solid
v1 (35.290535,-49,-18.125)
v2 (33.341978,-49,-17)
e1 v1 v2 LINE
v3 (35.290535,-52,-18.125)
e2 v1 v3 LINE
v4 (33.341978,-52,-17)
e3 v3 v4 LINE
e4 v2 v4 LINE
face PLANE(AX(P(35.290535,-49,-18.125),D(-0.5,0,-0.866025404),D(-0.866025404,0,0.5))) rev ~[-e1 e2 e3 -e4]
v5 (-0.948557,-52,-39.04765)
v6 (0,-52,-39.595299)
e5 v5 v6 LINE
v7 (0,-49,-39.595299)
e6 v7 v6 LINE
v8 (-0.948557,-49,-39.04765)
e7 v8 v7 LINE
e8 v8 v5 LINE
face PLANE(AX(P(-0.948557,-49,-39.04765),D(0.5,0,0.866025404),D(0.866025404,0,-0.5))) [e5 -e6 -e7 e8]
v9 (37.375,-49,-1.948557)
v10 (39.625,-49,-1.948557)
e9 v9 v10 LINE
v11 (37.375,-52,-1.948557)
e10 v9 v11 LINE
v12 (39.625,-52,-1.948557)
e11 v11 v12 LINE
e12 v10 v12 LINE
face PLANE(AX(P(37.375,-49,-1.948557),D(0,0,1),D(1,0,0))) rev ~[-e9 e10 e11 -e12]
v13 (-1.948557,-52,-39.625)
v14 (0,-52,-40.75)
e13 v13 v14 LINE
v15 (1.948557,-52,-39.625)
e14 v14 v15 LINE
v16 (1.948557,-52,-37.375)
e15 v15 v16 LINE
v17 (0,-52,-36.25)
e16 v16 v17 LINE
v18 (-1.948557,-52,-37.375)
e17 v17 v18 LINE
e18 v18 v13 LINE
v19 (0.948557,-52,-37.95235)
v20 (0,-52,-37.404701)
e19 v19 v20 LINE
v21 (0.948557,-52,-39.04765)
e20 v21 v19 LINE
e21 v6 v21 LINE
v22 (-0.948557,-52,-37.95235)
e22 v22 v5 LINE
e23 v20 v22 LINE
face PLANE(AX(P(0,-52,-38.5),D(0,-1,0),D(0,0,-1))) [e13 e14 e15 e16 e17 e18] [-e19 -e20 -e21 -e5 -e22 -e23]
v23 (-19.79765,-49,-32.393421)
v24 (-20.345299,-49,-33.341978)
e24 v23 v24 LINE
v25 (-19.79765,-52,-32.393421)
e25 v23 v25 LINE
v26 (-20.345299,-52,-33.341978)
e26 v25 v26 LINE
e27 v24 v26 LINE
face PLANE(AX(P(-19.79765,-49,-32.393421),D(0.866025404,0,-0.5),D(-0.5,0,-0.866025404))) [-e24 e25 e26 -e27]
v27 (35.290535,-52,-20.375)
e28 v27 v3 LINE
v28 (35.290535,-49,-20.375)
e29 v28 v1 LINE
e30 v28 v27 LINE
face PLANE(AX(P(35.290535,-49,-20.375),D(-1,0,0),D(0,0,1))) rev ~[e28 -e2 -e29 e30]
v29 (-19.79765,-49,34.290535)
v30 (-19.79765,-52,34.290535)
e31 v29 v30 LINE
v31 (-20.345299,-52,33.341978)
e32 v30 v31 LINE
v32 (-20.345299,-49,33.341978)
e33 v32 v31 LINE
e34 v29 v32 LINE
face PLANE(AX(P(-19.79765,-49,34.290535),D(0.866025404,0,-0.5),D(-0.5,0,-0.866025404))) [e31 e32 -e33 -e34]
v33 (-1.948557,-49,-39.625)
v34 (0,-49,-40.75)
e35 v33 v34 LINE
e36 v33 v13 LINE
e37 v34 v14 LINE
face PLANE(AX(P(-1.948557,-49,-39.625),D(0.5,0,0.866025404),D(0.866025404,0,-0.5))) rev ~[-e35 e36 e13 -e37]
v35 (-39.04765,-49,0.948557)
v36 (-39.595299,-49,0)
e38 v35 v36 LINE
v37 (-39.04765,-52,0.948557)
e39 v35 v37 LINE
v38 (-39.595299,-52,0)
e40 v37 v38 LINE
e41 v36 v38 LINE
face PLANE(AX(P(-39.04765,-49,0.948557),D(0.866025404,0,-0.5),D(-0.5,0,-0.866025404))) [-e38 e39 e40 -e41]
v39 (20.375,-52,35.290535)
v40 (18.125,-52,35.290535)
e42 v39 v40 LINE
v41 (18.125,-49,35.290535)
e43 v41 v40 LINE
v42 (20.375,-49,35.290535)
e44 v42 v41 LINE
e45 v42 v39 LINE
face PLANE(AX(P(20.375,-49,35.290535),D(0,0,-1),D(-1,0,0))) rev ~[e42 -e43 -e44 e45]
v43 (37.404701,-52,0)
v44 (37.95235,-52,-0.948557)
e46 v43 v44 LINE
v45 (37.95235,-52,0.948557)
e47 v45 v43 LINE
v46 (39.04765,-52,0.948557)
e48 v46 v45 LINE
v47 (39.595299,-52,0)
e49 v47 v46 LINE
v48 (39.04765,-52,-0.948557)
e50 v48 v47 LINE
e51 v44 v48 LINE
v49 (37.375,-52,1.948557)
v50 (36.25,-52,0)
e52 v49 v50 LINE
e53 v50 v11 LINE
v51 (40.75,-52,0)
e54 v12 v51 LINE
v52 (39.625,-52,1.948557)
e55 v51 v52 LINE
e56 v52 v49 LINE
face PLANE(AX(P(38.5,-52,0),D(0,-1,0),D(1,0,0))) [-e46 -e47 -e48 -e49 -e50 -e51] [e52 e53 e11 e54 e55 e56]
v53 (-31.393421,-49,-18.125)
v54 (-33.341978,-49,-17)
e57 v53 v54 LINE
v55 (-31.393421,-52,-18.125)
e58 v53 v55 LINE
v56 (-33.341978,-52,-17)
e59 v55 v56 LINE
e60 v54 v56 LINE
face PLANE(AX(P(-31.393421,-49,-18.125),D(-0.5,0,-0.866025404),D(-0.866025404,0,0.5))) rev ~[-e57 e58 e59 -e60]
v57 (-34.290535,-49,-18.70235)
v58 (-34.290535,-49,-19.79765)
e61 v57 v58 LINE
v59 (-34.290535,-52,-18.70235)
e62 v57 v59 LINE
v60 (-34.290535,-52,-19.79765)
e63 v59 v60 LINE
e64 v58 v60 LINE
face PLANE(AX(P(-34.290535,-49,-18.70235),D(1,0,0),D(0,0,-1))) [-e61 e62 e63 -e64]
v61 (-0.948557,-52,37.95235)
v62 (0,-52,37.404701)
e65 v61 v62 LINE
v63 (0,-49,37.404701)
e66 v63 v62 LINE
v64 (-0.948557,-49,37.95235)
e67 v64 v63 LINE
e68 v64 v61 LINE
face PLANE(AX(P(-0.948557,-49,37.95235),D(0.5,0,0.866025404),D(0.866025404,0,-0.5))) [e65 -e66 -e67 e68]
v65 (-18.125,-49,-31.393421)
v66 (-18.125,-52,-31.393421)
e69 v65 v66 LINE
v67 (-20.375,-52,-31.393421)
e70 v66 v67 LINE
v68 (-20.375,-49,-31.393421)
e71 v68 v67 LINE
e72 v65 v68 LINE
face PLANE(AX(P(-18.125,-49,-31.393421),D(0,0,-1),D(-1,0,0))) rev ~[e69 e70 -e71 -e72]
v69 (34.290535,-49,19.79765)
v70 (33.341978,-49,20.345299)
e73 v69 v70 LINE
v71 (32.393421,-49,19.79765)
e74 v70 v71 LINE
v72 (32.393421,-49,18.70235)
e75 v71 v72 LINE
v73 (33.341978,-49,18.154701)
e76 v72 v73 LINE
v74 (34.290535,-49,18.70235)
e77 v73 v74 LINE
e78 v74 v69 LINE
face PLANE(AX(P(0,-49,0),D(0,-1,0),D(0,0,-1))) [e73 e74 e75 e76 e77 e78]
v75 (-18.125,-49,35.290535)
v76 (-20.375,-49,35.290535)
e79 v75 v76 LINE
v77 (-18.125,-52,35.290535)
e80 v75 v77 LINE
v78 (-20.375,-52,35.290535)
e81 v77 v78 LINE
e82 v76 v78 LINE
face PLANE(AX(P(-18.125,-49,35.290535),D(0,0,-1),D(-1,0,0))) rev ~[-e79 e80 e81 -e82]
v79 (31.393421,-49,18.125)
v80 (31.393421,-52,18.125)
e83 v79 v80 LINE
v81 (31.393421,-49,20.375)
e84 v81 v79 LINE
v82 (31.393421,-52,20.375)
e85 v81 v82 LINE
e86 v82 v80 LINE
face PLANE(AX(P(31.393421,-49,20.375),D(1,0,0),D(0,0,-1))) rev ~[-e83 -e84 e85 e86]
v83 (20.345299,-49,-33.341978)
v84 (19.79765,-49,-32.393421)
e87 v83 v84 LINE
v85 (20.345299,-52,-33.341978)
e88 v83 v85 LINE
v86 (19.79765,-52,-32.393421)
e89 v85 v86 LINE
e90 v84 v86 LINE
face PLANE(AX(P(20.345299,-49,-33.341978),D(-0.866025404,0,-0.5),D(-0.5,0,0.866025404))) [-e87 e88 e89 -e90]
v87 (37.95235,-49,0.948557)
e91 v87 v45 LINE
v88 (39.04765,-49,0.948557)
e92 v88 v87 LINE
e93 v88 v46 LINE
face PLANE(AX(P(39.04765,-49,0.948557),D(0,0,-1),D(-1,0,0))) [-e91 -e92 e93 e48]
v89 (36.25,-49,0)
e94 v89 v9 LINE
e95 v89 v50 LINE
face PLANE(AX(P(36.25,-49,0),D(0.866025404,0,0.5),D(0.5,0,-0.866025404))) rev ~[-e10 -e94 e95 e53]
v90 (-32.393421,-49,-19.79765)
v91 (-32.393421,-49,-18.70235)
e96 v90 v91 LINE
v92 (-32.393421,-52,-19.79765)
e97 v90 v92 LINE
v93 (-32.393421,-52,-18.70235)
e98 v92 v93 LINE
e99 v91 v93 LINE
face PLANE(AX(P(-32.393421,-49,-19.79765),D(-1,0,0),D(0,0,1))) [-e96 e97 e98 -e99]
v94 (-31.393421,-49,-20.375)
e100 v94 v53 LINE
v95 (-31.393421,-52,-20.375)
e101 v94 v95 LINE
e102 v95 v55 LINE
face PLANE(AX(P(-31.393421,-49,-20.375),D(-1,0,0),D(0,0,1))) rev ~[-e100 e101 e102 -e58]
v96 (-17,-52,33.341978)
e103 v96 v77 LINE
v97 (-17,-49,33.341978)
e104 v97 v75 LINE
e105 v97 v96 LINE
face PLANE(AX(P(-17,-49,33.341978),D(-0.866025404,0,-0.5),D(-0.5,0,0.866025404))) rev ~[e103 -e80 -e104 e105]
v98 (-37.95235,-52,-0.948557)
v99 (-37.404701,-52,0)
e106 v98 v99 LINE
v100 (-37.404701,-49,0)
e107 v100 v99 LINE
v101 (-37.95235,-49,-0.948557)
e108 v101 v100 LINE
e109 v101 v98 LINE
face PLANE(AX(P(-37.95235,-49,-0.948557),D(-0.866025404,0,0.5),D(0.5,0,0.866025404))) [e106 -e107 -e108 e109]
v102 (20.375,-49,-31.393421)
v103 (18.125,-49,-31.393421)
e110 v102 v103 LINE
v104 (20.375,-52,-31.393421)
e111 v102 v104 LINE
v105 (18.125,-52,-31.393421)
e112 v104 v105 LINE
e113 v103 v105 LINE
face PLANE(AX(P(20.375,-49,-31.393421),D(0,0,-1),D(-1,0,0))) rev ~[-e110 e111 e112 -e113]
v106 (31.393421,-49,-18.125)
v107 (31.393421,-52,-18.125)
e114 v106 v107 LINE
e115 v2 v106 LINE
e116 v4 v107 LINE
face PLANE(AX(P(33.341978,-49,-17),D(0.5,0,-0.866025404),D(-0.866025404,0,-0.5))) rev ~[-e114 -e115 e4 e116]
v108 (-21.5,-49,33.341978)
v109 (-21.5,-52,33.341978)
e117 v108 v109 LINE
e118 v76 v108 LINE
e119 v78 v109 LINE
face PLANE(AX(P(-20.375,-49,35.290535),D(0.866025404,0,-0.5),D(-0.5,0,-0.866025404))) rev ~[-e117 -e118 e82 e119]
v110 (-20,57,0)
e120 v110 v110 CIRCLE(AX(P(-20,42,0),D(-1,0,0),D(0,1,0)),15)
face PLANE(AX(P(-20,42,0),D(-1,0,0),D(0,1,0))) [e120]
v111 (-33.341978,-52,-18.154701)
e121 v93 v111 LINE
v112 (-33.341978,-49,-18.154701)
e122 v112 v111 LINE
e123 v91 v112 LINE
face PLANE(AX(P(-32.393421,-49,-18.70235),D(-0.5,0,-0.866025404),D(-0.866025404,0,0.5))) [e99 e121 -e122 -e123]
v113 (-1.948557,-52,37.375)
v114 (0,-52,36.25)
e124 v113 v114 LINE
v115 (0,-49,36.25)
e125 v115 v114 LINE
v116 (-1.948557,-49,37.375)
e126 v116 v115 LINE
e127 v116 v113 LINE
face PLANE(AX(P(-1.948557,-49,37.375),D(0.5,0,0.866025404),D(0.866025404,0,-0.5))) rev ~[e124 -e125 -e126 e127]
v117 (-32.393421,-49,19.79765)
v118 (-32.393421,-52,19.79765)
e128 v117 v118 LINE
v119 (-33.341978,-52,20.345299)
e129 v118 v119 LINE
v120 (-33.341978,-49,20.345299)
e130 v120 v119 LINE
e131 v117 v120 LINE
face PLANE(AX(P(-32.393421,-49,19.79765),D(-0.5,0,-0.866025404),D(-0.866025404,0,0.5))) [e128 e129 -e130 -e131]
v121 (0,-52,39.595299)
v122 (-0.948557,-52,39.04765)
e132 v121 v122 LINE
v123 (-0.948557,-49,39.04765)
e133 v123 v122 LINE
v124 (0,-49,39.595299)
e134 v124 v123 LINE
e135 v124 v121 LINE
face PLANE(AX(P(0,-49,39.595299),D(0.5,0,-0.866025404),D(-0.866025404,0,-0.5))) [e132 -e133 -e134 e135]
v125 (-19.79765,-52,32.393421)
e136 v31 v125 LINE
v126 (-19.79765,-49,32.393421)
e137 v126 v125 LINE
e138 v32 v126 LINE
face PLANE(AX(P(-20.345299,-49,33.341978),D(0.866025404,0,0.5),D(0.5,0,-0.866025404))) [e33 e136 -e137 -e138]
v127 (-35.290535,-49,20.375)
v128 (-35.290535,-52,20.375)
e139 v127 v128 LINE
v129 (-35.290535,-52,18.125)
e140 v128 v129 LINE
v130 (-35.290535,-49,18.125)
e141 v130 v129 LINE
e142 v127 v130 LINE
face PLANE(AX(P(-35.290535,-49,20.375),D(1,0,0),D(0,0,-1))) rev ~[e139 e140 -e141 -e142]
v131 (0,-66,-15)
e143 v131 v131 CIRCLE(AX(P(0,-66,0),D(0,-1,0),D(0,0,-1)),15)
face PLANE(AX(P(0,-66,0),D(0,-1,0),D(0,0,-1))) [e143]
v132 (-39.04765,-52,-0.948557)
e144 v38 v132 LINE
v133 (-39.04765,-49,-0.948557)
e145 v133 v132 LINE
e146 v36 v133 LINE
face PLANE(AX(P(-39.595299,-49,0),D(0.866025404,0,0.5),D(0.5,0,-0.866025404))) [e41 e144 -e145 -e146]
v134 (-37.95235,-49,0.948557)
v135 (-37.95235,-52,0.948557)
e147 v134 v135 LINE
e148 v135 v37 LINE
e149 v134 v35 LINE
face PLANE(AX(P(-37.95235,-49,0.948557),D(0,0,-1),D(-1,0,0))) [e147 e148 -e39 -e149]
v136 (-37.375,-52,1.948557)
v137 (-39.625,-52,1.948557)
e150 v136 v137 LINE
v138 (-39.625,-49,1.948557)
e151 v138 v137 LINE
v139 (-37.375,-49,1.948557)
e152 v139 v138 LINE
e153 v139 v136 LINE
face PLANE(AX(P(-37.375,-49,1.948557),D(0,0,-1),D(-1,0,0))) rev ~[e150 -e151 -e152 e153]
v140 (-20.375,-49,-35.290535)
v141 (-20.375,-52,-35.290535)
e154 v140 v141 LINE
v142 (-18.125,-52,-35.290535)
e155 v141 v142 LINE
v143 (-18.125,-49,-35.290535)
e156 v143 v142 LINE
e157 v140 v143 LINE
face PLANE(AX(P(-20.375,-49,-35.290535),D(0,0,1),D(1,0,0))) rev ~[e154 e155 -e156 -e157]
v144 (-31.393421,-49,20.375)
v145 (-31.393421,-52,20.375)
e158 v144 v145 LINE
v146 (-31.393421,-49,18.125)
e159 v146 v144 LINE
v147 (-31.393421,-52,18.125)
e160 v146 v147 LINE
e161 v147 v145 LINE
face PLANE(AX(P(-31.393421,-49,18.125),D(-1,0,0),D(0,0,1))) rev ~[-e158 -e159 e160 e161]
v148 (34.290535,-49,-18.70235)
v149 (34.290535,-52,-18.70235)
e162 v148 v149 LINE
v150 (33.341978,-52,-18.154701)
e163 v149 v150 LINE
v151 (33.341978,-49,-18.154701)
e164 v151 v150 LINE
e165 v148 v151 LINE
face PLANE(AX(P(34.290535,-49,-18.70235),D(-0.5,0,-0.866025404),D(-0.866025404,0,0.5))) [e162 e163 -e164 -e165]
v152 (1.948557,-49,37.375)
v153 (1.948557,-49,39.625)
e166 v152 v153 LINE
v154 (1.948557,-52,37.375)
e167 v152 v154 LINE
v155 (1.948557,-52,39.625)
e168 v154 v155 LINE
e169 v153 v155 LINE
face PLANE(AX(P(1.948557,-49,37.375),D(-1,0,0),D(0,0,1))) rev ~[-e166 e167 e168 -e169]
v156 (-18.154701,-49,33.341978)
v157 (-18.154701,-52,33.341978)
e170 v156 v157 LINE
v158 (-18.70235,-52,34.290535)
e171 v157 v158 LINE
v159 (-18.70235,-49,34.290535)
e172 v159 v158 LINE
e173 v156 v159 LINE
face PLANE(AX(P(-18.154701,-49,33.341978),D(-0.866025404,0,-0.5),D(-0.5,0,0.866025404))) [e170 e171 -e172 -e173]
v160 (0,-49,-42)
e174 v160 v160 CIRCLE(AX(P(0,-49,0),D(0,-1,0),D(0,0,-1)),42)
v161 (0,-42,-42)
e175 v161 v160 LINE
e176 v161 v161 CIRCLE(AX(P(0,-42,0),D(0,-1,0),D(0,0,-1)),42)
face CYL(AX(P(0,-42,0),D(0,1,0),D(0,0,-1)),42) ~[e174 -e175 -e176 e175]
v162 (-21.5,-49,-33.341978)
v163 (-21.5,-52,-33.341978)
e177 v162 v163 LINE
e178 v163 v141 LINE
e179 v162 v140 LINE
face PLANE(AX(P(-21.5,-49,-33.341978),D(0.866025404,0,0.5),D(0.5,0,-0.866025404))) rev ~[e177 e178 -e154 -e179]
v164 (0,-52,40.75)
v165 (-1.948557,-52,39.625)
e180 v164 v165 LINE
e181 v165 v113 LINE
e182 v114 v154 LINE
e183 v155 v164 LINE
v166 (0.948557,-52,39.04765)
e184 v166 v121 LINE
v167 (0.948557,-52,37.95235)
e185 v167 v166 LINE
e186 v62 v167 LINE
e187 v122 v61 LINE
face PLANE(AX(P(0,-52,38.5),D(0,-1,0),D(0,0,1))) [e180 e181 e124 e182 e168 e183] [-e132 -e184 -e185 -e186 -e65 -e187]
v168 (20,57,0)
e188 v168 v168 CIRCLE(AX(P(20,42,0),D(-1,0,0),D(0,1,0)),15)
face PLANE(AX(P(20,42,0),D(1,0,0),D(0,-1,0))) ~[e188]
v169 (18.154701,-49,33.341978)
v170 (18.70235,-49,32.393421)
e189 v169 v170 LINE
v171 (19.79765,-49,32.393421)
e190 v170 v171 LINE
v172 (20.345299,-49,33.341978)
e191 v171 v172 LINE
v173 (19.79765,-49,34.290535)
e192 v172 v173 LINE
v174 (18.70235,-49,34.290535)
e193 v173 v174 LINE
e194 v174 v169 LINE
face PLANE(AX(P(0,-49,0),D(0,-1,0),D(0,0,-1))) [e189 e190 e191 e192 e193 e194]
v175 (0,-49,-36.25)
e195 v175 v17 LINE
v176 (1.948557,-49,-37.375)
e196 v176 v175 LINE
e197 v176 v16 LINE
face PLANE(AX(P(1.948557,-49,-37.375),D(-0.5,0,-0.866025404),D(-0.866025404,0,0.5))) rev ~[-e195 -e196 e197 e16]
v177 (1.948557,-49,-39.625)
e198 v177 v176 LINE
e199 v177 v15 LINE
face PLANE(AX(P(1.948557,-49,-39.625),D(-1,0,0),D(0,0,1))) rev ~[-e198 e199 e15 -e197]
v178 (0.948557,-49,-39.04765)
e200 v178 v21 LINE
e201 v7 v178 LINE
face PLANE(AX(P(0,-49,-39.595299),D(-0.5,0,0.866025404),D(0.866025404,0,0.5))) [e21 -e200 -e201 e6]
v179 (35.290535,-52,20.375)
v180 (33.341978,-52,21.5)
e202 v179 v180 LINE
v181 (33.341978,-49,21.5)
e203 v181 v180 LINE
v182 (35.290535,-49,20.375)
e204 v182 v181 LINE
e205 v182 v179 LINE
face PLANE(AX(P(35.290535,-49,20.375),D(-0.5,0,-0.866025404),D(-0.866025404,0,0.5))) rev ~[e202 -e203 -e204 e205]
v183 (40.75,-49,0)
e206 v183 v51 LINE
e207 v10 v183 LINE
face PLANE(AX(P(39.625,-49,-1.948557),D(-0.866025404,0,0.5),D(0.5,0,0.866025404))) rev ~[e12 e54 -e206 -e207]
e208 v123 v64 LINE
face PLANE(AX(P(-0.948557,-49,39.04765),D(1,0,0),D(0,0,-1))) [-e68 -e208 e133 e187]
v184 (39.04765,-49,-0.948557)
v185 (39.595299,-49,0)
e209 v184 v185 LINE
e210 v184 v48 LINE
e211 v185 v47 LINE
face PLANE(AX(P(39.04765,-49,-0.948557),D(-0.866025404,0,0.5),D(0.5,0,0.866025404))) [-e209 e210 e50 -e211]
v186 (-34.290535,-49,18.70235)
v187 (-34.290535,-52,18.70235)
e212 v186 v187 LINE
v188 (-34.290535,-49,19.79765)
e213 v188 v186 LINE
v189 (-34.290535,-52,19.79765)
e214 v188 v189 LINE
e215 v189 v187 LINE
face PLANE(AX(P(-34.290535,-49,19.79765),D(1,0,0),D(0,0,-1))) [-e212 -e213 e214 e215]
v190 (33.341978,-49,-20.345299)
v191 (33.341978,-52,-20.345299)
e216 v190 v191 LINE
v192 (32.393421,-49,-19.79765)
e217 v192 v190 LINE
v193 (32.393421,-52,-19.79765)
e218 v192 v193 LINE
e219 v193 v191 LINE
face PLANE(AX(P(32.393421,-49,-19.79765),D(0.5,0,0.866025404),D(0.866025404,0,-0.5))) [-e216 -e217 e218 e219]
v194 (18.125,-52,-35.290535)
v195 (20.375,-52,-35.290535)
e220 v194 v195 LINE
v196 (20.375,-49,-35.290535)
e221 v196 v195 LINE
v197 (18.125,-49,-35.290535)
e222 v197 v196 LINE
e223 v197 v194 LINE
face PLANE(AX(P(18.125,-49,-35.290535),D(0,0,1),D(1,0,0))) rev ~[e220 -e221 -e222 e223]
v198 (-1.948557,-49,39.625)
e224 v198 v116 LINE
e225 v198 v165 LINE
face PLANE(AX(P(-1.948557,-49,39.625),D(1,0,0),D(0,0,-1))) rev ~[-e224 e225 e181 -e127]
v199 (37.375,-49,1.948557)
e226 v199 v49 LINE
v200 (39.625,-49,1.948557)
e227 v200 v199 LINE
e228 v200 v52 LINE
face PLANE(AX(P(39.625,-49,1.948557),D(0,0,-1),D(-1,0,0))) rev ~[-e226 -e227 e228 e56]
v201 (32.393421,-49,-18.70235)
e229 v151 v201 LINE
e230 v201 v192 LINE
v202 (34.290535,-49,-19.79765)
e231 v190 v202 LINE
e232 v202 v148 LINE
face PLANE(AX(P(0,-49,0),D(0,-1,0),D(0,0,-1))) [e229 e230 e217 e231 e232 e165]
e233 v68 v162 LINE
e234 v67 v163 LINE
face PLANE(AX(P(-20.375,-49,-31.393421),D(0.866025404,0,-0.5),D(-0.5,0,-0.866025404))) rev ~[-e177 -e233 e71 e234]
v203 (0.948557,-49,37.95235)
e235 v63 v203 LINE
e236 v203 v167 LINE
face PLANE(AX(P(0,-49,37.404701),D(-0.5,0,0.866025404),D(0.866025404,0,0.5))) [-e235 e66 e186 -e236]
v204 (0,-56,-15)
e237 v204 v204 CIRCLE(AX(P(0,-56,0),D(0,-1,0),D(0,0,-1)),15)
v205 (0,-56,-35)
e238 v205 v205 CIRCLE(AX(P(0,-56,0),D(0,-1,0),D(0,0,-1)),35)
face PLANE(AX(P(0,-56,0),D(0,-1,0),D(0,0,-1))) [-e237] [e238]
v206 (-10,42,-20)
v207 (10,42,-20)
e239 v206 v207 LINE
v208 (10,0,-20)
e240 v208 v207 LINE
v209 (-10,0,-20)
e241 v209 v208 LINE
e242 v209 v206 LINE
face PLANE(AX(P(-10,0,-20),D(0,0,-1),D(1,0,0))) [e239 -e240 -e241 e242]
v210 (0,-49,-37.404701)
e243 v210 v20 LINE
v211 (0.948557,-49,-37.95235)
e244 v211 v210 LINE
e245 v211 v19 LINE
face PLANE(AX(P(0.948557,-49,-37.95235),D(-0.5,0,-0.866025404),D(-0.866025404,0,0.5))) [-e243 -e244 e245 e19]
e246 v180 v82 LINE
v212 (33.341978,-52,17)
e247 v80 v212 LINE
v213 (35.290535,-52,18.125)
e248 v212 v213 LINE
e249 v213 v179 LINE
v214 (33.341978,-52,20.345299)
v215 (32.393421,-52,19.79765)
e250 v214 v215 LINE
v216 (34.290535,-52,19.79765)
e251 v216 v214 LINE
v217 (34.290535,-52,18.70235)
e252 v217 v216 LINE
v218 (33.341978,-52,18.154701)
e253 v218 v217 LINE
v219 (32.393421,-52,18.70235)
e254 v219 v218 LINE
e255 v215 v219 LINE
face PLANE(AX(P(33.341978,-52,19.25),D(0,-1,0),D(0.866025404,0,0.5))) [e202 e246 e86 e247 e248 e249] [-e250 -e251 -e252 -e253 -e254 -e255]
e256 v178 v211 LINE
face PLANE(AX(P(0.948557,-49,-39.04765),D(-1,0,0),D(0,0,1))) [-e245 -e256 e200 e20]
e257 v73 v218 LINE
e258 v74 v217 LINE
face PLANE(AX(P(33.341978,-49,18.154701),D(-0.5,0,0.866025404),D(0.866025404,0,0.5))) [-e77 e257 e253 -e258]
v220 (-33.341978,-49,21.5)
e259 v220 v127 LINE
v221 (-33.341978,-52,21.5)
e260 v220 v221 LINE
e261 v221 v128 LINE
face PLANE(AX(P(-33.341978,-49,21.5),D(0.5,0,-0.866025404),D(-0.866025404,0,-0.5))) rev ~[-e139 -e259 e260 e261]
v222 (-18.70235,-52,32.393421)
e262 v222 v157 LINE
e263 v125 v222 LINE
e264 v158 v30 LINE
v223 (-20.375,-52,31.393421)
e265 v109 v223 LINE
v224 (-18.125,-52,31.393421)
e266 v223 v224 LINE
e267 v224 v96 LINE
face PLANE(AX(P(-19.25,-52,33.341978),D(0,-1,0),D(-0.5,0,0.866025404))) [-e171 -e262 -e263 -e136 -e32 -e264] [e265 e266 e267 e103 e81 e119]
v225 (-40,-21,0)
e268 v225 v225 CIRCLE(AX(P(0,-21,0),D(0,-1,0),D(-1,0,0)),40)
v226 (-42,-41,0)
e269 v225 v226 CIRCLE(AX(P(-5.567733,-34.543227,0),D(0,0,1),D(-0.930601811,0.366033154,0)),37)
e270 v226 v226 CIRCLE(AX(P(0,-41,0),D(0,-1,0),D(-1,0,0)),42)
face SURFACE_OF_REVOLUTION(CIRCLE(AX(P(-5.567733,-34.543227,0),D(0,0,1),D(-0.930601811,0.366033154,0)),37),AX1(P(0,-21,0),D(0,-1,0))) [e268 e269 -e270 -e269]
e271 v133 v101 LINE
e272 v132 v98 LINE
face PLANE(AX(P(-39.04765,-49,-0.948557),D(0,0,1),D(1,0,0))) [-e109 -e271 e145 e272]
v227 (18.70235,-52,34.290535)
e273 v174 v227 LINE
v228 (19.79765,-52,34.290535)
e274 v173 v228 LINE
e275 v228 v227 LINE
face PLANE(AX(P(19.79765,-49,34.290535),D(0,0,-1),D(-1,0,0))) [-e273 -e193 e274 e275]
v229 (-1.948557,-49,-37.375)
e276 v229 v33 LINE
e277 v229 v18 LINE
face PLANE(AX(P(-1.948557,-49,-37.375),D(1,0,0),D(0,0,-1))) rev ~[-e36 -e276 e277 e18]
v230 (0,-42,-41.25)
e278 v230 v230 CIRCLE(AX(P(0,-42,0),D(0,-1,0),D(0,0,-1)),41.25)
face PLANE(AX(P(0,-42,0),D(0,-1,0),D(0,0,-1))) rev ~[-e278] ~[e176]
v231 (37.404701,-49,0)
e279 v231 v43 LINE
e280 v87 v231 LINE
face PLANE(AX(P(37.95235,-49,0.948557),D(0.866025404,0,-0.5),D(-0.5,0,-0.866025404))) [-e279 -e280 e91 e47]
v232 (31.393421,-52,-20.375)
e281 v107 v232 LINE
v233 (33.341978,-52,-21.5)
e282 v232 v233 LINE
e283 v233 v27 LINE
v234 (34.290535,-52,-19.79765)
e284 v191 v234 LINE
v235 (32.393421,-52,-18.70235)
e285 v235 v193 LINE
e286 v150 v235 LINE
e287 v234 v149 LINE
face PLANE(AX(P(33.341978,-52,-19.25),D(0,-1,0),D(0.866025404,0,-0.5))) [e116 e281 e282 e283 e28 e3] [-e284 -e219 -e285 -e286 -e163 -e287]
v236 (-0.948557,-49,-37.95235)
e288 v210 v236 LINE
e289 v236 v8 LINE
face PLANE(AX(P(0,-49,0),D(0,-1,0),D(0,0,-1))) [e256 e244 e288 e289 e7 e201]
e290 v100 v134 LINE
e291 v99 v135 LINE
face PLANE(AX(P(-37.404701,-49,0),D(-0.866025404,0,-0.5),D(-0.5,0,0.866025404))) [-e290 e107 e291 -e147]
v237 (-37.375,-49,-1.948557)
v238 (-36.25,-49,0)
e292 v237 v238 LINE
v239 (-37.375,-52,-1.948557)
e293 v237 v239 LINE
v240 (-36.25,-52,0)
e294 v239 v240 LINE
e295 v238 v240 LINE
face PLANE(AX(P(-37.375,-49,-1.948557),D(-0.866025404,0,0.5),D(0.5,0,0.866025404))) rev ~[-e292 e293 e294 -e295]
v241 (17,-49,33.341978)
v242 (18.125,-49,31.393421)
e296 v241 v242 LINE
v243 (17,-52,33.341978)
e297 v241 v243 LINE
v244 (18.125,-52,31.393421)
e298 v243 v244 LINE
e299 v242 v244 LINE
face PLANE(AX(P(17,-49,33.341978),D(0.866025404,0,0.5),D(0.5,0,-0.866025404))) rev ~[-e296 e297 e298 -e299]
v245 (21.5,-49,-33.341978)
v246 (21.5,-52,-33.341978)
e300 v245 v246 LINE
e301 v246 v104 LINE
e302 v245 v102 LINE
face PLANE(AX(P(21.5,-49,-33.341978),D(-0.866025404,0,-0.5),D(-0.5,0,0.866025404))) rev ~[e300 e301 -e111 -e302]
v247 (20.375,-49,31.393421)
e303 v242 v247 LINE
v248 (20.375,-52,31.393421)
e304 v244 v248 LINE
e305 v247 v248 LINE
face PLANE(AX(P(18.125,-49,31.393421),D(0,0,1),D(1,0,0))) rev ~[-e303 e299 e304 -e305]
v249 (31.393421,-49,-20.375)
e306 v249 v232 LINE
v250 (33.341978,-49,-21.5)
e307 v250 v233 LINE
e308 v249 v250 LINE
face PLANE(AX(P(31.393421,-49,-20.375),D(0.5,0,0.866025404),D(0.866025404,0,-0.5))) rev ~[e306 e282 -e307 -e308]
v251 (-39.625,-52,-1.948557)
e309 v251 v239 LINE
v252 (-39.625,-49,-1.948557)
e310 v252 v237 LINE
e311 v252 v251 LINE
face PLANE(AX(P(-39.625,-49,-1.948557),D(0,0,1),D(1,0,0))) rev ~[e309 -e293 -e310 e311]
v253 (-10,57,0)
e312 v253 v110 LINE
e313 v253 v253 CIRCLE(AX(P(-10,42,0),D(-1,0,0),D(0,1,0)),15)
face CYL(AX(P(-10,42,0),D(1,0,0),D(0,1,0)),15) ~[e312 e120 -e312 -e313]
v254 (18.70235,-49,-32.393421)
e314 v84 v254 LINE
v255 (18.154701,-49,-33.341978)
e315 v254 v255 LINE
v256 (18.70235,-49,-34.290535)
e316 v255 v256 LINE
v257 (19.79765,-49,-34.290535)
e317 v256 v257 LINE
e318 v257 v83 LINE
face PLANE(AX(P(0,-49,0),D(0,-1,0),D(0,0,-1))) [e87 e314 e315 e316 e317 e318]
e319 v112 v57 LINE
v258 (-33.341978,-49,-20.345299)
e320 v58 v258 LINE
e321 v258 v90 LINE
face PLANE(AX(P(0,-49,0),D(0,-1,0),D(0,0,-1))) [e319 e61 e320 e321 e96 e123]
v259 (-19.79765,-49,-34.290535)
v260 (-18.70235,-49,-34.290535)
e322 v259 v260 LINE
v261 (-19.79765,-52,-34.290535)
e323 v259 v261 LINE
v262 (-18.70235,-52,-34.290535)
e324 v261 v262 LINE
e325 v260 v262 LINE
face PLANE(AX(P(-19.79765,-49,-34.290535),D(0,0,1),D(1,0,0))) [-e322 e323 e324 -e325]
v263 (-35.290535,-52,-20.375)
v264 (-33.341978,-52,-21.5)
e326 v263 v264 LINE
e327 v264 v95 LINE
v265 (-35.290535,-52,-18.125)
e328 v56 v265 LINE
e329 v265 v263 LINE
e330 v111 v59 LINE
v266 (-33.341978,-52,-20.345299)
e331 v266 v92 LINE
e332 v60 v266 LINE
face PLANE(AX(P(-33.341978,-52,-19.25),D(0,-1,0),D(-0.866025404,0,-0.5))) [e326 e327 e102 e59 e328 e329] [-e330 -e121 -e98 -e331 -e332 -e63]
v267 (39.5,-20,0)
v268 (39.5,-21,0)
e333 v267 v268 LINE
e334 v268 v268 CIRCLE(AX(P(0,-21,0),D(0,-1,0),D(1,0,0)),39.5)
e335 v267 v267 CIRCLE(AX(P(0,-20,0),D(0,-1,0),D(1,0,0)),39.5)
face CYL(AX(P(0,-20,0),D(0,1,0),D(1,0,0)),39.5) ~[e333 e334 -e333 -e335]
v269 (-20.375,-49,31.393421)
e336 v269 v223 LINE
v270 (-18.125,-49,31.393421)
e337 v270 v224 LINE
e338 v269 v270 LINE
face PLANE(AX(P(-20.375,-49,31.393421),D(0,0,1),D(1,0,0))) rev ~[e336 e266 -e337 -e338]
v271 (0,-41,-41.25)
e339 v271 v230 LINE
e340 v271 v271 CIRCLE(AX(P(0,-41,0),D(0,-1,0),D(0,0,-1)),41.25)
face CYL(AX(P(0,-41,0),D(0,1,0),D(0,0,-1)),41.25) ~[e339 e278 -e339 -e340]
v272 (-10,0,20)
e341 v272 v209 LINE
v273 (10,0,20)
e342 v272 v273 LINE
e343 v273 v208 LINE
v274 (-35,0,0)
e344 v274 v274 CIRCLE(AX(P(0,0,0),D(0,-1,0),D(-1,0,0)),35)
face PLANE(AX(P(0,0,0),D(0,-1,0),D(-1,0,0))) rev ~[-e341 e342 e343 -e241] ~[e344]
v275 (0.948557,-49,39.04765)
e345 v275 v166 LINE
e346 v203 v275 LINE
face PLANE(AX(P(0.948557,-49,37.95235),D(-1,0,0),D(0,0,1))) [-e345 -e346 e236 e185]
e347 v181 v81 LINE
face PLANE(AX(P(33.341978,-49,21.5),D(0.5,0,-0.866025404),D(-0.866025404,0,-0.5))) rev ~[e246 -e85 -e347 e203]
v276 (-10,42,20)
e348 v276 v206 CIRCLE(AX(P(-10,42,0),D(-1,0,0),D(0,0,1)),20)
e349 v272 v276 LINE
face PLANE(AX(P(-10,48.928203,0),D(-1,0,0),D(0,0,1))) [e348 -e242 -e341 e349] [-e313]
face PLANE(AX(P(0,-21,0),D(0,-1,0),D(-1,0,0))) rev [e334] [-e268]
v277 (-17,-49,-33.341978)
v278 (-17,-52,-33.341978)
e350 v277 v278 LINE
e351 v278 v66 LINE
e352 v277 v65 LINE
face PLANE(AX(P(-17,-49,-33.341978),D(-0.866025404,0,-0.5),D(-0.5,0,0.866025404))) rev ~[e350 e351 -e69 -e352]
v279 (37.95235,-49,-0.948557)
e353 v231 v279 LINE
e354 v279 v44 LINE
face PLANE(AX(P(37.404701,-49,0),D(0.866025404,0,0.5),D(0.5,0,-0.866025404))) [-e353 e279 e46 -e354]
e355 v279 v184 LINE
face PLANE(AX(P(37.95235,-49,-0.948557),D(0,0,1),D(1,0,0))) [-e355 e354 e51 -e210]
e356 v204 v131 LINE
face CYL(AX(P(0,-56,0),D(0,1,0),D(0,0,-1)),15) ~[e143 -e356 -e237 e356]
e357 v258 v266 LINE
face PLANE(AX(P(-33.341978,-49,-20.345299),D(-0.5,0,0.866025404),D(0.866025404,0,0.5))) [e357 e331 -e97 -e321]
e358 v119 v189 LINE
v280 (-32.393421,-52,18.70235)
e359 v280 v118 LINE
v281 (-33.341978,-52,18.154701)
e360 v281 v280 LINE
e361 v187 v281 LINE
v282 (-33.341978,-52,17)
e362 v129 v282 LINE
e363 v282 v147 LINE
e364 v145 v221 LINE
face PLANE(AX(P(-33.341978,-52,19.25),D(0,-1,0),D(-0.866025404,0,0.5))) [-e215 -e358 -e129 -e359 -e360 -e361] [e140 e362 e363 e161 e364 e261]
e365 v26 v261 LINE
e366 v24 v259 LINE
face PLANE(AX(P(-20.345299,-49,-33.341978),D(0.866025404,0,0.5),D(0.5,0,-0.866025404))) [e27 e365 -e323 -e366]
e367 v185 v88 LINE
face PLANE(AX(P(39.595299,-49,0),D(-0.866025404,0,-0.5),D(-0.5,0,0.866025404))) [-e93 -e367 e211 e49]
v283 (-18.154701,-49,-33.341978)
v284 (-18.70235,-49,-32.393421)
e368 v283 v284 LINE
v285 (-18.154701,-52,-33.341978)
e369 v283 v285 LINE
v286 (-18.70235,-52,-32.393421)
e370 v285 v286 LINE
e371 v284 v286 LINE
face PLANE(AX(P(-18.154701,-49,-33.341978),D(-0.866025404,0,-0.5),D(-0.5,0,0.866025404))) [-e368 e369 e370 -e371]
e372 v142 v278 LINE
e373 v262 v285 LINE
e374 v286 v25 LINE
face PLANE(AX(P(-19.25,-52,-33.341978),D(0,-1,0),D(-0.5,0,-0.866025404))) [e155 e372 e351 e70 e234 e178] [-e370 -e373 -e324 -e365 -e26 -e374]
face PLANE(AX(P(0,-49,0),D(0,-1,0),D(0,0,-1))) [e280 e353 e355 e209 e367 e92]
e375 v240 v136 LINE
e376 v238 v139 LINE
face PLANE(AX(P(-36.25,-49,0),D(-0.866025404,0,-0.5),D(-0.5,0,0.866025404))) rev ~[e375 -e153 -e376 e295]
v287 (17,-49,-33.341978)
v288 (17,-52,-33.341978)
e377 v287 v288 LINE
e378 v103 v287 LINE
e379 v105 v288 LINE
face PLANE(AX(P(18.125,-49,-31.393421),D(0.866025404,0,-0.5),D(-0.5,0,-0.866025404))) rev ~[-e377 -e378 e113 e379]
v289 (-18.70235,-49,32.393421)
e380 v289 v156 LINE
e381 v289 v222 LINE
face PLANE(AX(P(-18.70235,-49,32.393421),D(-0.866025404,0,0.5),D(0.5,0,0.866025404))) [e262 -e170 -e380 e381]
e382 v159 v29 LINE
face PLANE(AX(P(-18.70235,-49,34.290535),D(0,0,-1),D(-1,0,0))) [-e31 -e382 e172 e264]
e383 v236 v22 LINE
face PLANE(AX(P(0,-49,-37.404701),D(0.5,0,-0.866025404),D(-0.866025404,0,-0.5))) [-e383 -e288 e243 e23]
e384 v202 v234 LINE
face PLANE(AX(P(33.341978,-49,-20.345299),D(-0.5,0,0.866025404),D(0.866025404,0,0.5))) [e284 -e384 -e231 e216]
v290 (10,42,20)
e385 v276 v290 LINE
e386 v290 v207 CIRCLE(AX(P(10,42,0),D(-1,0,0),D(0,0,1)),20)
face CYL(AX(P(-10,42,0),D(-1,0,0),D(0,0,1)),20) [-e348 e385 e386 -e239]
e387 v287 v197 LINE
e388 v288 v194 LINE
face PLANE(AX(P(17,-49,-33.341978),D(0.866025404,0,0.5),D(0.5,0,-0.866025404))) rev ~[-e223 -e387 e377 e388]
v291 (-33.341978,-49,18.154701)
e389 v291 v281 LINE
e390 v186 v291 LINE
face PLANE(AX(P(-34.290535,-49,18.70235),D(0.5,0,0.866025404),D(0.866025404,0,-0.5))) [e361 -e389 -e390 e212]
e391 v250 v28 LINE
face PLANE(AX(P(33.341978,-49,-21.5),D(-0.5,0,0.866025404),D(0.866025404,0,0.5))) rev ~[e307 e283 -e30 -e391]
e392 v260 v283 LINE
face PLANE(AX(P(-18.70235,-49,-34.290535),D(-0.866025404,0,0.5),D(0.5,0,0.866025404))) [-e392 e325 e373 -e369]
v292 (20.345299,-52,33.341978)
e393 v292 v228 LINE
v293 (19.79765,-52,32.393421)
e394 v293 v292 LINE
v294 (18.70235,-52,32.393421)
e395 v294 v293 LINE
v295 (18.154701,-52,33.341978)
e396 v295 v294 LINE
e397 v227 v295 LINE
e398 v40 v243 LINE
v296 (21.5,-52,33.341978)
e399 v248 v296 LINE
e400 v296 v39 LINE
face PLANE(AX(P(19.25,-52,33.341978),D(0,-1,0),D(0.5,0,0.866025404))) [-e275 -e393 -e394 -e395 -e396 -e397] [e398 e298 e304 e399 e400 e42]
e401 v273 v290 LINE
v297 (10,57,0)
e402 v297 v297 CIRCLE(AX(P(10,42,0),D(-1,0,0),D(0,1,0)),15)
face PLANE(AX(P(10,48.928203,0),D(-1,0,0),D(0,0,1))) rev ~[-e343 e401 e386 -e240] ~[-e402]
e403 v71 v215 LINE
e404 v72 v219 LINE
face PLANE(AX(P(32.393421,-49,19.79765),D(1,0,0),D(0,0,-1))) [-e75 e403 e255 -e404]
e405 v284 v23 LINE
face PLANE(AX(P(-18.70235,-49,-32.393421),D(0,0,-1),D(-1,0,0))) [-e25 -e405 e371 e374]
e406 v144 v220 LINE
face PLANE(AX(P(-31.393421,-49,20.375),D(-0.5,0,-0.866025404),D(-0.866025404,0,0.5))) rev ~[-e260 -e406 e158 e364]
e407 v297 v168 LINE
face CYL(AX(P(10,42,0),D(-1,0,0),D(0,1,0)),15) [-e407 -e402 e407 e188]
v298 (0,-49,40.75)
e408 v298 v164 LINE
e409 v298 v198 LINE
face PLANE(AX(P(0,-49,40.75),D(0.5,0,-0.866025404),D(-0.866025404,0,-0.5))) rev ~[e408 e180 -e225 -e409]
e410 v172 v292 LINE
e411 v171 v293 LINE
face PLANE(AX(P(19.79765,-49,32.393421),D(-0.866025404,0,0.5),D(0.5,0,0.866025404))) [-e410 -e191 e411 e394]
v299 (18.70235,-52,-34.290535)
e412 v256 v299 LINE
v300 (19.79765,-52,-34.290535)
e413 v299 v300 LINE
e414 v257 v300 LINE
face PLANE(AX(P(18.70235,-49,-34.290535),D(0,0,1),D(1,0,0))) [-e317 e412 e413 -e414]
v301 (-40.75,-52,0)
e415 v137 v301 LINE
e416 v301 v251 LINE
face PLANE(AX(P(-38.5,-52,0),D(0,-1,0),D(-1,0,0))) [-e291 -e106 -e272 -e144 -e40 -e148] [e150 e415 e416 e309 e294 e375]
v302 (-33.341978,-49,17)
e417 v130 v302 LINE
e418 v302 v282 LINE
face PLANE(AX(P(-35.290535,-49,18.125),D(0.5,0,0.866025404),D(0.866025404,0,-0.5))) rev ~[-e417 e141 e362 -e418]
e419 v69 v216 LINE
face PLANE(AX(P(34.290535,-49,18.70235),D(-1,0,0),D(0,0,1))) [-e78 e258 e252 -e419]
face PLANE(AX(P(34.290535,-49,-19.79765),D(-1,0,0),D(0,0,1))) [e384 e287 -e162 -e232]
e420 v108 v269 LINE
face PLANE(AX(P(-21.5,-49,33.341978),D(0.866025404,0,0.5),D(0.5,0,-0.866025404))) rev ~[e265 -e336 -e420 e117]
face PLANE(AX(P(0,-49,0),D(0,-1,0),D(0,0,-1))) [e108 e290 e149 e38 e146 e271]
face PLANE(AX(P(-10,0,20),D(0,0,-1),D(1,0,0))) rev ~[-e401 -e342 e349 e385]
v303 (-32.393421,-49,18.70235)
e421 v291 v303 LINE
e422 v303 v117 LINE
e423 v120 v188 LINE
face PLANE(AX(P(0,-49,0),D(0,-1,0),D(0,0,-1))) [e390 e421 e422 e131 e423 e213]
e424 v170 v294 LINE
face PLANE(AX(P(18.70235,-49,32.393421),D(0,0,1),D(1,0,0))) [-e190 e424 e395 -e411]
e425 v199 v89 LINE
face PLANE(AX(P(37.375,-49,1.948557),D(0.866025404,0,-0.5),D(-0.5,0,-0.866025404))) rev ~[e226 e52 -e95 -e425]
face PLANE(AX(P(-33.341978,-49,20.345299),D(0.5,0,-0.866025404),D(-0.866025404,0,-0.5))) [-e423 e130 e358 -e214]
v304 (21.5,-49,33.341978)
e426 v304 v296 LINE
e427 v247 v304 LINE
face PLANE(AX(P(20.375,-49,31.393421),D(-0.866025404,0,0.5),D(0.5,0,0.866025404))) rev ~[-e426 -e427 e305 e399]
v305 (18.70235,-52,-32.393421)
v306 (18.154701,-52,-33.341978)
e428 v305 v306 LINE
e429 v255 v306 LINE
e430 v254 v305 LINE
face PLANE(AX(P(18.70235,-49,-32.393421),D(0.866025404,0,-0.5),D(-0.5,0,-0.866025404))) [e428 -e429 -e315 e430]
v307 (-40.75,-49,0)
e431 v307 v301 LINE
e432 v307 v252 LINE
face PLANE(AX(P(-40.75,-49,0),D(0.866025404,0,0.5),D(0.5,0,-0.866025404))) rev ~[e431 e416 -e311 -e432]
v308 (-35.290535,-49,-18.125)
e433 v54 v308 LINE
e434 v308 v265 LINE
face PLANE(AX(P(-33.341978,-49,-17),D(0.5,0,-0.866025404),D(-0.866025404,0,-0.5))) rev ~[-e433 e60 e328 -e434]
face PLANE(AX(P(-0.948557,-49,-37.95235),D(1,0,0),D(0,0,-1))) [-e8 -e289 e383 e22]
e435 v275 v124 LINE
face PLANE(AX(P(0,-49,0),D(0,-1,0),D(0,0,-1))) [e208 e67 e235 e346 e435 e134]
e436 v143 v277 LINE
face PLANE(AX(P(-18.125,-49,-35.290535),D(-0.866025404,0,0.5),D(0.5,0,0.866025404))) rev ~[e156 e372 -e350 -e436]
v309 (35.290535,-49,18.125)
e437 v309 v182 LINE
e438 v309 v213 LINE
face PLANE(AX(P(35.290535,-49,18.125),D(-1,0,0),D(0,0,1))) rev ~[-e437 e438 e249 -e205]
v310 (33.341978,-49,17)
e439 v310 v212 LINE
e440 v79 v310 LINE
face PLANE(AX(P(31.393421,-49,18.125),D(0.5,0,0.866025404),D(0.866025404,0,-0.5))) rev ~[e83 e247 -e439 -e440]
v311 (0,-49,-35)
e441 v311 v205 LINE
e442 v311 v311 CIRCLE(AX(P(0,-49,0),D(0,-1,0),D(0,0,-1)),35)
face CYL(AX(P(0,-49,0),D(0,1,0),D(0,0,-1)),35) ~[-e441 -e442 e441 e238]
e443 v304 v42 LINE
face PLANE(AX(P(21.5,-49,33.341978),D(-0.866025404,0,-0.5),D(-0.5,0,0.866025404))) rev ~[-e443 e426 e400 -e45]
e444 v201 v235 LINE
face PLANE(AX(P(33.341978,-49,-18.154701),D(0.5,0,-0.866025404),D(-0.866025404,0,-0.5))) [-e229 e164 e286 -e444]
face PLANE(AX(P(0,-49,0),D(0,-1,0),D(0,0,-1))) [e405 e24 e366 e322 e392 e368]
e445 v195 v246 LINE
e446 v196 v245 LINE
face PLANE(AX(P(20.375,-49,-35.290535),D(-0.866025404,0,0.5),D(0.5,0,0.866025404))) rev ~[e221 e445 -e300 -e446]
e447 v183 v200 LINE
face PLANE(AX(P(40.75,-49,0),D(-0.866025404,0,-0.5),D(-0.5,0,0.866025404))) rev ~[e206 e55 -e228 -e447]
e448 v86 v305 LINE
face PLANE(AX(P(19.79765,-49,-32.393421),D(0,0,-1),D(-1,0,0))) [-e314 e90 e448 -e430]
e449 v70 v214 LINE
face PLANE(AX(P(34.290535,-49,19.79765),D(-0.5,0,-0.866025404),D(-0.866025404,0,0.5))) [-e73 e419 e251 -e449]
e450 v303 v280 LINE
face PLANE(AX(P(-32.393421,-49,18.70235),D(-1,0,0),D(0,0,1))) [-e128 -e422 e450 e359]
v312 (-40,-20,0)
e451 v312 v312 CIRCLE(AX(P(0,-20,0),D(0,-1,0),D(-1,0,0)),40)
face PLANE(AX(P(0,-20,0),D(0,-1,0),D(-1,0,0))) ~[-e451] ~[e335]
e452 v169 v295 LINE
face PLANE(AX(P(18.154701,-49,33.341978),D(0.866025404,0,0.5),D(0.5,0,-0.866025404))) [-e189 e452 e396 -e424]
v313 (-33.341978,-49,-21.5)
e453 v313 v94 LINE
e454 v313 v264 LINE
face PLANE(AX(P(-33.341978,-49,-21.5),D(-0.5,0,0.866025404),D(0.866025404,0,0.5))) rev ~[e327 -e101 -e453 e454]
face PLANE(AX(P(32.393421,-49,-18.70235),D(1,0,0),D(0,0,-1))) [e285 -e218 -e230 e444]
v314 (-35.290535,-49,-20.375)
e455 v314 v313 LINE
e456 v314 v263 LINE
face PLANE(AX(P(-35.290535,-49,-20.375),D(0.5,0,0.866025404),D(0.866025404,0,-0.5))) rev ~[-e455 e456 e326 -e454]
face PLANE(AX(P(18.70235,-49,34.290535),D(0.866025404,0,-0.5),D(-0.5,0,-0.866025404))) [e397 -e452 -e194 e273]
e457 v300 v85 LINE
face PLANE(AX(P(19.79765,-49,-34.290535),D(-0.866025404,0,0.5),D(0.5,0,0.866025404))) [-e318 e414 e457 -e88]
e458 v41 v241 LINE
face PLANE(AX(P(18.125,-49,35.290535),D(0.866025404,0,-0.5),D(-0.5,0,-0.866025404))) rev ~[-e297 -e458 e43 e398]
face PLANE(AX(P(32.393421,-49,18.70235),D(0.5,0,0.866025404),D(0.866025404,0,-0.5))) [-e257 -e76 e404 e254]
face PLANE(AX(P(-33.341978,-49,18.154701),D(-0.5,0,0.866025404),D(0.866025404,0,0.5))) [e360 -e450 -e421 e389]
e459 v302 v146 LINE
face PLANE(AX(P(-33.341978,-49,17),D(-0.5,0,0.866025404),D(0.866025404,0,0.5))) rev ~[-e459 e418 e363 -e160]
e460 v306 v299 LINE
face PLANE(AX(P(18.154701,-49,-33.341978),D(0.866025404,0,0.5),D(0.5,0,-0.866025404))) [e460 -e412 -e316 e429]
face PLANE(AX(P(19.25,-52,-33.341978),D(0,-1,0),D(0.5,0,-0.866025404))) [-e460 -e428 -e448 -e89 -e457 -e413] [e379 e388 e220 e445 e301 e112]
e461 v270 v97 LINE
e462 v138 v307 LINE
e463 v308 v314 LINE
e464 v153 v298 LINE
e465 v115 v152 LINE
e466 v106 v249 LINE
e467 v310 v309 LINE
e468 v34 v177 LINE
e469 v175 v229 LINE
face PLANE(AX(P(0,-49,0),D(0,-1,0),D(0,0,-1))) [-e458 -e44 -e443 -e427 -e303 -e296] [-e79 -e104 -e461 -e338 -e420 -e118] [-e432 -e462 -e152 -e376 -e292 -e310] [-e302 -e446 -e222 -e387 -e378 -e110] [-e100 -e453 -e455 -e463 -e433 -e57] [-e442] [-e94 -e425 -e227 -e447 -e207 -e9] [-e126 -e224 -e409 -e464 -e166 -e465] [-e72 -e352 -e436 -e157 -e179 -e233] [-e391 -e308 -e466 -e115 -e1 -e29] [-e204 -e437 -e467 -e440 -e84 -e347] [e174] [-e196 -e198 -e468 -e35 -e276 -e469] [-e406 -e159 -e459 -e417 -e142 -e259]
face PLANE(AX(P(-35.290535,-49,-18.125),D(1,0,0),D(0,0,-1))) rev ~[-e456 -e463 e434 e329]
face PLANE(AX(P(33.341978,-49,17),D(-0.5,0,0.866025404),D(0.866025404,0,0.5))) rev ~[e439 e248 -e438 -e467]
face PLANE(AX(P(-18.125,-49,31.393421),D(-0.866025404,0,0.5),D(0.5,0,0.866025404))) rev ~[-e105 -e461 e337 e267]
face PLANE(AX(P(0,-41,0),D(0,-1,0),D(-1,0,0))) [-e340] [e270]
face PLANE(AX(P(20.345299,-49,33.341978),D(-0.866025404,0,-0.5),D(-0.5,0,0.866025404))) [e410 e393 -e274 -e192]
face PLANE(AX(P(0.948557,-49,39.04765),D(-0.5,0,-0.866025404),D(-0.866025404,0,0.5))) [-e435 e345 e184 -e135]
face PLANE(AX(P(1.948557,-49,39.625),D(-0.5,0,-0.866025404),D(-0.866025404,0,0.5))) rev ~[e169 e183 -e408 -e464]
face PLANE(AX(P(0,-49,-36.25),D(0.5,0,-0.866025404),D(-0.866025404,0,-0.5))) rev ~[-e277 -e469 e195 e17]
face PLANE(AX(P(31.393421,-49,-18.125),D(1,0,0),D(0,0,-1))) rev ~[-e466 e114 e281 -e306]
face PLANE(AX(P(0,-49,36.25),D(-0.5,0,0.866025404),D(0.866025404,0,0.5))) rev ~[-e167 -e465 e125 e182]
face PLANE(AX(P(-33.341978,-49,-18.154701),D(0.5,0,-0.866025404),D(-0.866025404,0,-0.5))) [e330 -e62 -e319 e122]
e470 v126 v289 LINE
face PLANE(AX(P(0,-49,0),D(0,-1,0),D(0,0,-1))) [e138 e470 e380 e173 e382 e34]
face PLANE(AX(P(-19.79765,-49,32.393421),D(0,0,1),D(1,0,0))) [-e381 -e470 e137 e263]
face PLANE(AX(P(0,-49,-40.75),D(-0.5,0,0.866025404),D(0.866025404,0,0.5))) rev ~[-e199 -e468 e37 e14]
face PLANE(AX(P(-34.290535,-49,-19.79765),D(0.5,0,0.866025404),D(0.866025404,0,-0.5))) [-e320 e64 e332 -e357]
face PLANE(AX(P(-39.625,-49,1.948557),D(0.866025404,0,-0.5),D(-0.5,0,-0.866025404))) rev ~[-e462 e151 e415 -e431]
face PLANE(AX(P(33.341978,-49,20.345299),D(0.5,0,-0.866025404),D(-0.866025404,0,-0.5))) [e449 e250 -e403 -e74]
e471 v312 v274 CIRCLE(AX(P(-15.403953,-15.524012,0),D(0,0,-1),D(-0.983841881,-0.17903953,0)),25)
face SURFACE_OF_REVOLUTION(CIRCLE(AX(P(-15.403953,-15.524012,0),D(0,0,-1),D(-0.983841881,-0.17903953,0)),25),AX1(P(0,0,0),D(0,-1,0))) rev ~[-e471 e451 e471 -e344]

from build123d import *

# Parameters (mm, degrees)
SKETCH2_R           = 39.5
BOSS_EXTRUDE1_DEPTH = 1
SKETCH4_R           = 41.25
BOSS_EXTRUDE2_DEPTH = 1
SKETCH5_R           = 42
BOSS_EXTRUDE3_DEPTH = 7
SKETCH6_R           = 35
BOSS_EXTRUDE4_DEPTH = 7
BOSS_EXTRUDE5_DEPTH = 3
CIRPATTERN1_COUNT   = 12
SKETCH8_R           = 15
BOSS_EXTRUDE6_DEPTH = 10
SKETCH9_W           = 20
SKETCH9_H           = 40
BOSS_EXTRUDE7_DEPTH = 42
BOSS_EXTRUDE8_DEPTH = 20
SKETCH11_R          = 15
BOSS_EXTRUDE9_DEPTH = 10


with BuildPart() as part:
    # Sketch1 → Revolve1 (revolve)
    with BuildSketch(Plane.XY):
        with BuildLine():
            Line((-35, 0), (0, 0))
            Line((0, 0), (0, -20))
            Line((0, -20), (-40, -20))
            ThreePointArc((-40, -20), (-39.657515479, -9.46062113), (-35, 0))
        make_face()
    revolve(axis=Axis((0, 0, 0), (0, -1, 0)))

    # Sketch2 → Boss-Extrude1 (add)
    with BuildSketch(Plane.XZ.offset(20)):
        Circle(SKETCH2_R)
    extrude(amount=BOSS_EXTRUDE1_DEPTH)

    # Sketch3 → Revolve2 (revolve)
    with BuildSketch(Plane(origin=(0, 0, 0), x_dir=(0, 0, -1), z_dir=(1, 0, 0)), mode=Mode.PRIVATE) as revolve2_sk:
        with BuildLine():
            Line((0, -21), (-40, -21))
            ThreePointArc((-40, -21), (-42.384109041, -30.861589096), (-42, -41))
            Line((-42, -41), (0, -41))
            Line((0, -41), (0, -21))
        make_face()
    revolve(revolve2_sk.sketch.rotate(Axis((0, -21, 0), (0, -1, 0)), 90), axis=Axis((0, -21, 0), (0, -1, 0)))

    # Sketch4 → Boss-Extrude2 (add)
    with BuildSketch(Plane.XZ.offset(41)):
        with Locations(Location((0, 0, 0), (0, 0, 270))):
            Circle(SKETCH4_R)
    extrude(amount=BOSS_EXTRUDE2_DEPTH)

    # Sketch5 → Boss-Extrude3 (add)
    with BuildSketch(Plane.XZ.offset(42)):
        with Locations(Location((0, 0, 0), (0, 0, 270))):
            Circle(SKETCH5_R)
    extrude(amount=BOSS_EXTRUDE3_DEPTH)

    # Sketch6 → Boss-Extrude4 (add)
    with BuildSketch(Plane.XZ.offset(49)):
        with Locations(Location((0, 0, 0), (0, 0, 270))):
            Circle(SKETCH6_R)
    extrude(amount=BOSS_EXTRUDE4_DEPTH)

    # Sketch7 → Boss-Extrude5 (add)
    with BuildSketch(Plane.XZ.offset(49)):
        Polygon((40.75, 0), (39.625, 1.948557159), (37.375, 1.948557159), (36.25, 0), (37.375, -1.948557159), (39.625, -1.948557159), align=None)
        Polygon((39.047649731, 0.948557159), (37.952350269, 0.948557159), (37.404700538, 0), (37.952350269, -0.948557159), (39.047649731, -0.948557159), (39.595299462, 0), align=None, mode=Mode.SUBTRACT)
    boss_extrude5 = extrude(amount=BOSS_EXTRUDE5_DEPTH)

    # CirPattern1: Boss-Extrude5 ×12 about axis
    cirpattern1_axis = Axis((0, 0, 0), (0, 1, 0))
    for i in range(1, CIRPATTERN1_COUNT):
        add(boss_extrude5.rotate(cirpattern1_axis, i * 360 / CIRPATTERN1_COUNT))

    # Sketch8 → Boss-Extrude6 (add)
    with BuildSketch(Plane.XZ.offset(56)):
        with Locations(Location((0, 0, 0), (0, 0, 270))):
            Circle(SKETCH8_R)
    extrude(amount=BOSS_EXTRUDE6_DEPTH)

    # Sketch9 → Boss-Extrude7 (add)
    with BuildSketch(Plane(origin=(0, 0, 0), x_dir=(1, 0, 0), z_dir=(0, 1, 0))):
        Rectangle(SKETCH9_W, SKETCH9_H)
    extrude(amount=BOSS_EXTRUDE7_DEPTH)

    # Sketch10 → Boss-Extrude8 (add)
    with BuildSketch(Plane.ZY.offset(10)):
        with BuildLine():
            Line((-20, 42), (20, 42))
            ThreePointArc((20, 42), (0, 62), (-20, 42))
        make_face()
    extrude(amount=-BOSS_EXTRUDE8_DEPTH)

    # Sketch11 → Boss-Extrude9 (add)
    with BuildSketch(Plane.ZY.offset(10)):
        with Locations(Location((0, 42, 0), (0, 0, 90))):
            Circle(SKETCH11_R)
    boss_extrude9 = extrude(amount=BOSS_EXTRUDE9_DEPTH)

    # Mirror1: Boss-Extrude9 across plane
    add(boss_extrude9.mirror(Plane(origin=(0, 0, 0), x_dir=(0, 0, 1), z_dir=(1, 0, 0))))


solid = part.part
